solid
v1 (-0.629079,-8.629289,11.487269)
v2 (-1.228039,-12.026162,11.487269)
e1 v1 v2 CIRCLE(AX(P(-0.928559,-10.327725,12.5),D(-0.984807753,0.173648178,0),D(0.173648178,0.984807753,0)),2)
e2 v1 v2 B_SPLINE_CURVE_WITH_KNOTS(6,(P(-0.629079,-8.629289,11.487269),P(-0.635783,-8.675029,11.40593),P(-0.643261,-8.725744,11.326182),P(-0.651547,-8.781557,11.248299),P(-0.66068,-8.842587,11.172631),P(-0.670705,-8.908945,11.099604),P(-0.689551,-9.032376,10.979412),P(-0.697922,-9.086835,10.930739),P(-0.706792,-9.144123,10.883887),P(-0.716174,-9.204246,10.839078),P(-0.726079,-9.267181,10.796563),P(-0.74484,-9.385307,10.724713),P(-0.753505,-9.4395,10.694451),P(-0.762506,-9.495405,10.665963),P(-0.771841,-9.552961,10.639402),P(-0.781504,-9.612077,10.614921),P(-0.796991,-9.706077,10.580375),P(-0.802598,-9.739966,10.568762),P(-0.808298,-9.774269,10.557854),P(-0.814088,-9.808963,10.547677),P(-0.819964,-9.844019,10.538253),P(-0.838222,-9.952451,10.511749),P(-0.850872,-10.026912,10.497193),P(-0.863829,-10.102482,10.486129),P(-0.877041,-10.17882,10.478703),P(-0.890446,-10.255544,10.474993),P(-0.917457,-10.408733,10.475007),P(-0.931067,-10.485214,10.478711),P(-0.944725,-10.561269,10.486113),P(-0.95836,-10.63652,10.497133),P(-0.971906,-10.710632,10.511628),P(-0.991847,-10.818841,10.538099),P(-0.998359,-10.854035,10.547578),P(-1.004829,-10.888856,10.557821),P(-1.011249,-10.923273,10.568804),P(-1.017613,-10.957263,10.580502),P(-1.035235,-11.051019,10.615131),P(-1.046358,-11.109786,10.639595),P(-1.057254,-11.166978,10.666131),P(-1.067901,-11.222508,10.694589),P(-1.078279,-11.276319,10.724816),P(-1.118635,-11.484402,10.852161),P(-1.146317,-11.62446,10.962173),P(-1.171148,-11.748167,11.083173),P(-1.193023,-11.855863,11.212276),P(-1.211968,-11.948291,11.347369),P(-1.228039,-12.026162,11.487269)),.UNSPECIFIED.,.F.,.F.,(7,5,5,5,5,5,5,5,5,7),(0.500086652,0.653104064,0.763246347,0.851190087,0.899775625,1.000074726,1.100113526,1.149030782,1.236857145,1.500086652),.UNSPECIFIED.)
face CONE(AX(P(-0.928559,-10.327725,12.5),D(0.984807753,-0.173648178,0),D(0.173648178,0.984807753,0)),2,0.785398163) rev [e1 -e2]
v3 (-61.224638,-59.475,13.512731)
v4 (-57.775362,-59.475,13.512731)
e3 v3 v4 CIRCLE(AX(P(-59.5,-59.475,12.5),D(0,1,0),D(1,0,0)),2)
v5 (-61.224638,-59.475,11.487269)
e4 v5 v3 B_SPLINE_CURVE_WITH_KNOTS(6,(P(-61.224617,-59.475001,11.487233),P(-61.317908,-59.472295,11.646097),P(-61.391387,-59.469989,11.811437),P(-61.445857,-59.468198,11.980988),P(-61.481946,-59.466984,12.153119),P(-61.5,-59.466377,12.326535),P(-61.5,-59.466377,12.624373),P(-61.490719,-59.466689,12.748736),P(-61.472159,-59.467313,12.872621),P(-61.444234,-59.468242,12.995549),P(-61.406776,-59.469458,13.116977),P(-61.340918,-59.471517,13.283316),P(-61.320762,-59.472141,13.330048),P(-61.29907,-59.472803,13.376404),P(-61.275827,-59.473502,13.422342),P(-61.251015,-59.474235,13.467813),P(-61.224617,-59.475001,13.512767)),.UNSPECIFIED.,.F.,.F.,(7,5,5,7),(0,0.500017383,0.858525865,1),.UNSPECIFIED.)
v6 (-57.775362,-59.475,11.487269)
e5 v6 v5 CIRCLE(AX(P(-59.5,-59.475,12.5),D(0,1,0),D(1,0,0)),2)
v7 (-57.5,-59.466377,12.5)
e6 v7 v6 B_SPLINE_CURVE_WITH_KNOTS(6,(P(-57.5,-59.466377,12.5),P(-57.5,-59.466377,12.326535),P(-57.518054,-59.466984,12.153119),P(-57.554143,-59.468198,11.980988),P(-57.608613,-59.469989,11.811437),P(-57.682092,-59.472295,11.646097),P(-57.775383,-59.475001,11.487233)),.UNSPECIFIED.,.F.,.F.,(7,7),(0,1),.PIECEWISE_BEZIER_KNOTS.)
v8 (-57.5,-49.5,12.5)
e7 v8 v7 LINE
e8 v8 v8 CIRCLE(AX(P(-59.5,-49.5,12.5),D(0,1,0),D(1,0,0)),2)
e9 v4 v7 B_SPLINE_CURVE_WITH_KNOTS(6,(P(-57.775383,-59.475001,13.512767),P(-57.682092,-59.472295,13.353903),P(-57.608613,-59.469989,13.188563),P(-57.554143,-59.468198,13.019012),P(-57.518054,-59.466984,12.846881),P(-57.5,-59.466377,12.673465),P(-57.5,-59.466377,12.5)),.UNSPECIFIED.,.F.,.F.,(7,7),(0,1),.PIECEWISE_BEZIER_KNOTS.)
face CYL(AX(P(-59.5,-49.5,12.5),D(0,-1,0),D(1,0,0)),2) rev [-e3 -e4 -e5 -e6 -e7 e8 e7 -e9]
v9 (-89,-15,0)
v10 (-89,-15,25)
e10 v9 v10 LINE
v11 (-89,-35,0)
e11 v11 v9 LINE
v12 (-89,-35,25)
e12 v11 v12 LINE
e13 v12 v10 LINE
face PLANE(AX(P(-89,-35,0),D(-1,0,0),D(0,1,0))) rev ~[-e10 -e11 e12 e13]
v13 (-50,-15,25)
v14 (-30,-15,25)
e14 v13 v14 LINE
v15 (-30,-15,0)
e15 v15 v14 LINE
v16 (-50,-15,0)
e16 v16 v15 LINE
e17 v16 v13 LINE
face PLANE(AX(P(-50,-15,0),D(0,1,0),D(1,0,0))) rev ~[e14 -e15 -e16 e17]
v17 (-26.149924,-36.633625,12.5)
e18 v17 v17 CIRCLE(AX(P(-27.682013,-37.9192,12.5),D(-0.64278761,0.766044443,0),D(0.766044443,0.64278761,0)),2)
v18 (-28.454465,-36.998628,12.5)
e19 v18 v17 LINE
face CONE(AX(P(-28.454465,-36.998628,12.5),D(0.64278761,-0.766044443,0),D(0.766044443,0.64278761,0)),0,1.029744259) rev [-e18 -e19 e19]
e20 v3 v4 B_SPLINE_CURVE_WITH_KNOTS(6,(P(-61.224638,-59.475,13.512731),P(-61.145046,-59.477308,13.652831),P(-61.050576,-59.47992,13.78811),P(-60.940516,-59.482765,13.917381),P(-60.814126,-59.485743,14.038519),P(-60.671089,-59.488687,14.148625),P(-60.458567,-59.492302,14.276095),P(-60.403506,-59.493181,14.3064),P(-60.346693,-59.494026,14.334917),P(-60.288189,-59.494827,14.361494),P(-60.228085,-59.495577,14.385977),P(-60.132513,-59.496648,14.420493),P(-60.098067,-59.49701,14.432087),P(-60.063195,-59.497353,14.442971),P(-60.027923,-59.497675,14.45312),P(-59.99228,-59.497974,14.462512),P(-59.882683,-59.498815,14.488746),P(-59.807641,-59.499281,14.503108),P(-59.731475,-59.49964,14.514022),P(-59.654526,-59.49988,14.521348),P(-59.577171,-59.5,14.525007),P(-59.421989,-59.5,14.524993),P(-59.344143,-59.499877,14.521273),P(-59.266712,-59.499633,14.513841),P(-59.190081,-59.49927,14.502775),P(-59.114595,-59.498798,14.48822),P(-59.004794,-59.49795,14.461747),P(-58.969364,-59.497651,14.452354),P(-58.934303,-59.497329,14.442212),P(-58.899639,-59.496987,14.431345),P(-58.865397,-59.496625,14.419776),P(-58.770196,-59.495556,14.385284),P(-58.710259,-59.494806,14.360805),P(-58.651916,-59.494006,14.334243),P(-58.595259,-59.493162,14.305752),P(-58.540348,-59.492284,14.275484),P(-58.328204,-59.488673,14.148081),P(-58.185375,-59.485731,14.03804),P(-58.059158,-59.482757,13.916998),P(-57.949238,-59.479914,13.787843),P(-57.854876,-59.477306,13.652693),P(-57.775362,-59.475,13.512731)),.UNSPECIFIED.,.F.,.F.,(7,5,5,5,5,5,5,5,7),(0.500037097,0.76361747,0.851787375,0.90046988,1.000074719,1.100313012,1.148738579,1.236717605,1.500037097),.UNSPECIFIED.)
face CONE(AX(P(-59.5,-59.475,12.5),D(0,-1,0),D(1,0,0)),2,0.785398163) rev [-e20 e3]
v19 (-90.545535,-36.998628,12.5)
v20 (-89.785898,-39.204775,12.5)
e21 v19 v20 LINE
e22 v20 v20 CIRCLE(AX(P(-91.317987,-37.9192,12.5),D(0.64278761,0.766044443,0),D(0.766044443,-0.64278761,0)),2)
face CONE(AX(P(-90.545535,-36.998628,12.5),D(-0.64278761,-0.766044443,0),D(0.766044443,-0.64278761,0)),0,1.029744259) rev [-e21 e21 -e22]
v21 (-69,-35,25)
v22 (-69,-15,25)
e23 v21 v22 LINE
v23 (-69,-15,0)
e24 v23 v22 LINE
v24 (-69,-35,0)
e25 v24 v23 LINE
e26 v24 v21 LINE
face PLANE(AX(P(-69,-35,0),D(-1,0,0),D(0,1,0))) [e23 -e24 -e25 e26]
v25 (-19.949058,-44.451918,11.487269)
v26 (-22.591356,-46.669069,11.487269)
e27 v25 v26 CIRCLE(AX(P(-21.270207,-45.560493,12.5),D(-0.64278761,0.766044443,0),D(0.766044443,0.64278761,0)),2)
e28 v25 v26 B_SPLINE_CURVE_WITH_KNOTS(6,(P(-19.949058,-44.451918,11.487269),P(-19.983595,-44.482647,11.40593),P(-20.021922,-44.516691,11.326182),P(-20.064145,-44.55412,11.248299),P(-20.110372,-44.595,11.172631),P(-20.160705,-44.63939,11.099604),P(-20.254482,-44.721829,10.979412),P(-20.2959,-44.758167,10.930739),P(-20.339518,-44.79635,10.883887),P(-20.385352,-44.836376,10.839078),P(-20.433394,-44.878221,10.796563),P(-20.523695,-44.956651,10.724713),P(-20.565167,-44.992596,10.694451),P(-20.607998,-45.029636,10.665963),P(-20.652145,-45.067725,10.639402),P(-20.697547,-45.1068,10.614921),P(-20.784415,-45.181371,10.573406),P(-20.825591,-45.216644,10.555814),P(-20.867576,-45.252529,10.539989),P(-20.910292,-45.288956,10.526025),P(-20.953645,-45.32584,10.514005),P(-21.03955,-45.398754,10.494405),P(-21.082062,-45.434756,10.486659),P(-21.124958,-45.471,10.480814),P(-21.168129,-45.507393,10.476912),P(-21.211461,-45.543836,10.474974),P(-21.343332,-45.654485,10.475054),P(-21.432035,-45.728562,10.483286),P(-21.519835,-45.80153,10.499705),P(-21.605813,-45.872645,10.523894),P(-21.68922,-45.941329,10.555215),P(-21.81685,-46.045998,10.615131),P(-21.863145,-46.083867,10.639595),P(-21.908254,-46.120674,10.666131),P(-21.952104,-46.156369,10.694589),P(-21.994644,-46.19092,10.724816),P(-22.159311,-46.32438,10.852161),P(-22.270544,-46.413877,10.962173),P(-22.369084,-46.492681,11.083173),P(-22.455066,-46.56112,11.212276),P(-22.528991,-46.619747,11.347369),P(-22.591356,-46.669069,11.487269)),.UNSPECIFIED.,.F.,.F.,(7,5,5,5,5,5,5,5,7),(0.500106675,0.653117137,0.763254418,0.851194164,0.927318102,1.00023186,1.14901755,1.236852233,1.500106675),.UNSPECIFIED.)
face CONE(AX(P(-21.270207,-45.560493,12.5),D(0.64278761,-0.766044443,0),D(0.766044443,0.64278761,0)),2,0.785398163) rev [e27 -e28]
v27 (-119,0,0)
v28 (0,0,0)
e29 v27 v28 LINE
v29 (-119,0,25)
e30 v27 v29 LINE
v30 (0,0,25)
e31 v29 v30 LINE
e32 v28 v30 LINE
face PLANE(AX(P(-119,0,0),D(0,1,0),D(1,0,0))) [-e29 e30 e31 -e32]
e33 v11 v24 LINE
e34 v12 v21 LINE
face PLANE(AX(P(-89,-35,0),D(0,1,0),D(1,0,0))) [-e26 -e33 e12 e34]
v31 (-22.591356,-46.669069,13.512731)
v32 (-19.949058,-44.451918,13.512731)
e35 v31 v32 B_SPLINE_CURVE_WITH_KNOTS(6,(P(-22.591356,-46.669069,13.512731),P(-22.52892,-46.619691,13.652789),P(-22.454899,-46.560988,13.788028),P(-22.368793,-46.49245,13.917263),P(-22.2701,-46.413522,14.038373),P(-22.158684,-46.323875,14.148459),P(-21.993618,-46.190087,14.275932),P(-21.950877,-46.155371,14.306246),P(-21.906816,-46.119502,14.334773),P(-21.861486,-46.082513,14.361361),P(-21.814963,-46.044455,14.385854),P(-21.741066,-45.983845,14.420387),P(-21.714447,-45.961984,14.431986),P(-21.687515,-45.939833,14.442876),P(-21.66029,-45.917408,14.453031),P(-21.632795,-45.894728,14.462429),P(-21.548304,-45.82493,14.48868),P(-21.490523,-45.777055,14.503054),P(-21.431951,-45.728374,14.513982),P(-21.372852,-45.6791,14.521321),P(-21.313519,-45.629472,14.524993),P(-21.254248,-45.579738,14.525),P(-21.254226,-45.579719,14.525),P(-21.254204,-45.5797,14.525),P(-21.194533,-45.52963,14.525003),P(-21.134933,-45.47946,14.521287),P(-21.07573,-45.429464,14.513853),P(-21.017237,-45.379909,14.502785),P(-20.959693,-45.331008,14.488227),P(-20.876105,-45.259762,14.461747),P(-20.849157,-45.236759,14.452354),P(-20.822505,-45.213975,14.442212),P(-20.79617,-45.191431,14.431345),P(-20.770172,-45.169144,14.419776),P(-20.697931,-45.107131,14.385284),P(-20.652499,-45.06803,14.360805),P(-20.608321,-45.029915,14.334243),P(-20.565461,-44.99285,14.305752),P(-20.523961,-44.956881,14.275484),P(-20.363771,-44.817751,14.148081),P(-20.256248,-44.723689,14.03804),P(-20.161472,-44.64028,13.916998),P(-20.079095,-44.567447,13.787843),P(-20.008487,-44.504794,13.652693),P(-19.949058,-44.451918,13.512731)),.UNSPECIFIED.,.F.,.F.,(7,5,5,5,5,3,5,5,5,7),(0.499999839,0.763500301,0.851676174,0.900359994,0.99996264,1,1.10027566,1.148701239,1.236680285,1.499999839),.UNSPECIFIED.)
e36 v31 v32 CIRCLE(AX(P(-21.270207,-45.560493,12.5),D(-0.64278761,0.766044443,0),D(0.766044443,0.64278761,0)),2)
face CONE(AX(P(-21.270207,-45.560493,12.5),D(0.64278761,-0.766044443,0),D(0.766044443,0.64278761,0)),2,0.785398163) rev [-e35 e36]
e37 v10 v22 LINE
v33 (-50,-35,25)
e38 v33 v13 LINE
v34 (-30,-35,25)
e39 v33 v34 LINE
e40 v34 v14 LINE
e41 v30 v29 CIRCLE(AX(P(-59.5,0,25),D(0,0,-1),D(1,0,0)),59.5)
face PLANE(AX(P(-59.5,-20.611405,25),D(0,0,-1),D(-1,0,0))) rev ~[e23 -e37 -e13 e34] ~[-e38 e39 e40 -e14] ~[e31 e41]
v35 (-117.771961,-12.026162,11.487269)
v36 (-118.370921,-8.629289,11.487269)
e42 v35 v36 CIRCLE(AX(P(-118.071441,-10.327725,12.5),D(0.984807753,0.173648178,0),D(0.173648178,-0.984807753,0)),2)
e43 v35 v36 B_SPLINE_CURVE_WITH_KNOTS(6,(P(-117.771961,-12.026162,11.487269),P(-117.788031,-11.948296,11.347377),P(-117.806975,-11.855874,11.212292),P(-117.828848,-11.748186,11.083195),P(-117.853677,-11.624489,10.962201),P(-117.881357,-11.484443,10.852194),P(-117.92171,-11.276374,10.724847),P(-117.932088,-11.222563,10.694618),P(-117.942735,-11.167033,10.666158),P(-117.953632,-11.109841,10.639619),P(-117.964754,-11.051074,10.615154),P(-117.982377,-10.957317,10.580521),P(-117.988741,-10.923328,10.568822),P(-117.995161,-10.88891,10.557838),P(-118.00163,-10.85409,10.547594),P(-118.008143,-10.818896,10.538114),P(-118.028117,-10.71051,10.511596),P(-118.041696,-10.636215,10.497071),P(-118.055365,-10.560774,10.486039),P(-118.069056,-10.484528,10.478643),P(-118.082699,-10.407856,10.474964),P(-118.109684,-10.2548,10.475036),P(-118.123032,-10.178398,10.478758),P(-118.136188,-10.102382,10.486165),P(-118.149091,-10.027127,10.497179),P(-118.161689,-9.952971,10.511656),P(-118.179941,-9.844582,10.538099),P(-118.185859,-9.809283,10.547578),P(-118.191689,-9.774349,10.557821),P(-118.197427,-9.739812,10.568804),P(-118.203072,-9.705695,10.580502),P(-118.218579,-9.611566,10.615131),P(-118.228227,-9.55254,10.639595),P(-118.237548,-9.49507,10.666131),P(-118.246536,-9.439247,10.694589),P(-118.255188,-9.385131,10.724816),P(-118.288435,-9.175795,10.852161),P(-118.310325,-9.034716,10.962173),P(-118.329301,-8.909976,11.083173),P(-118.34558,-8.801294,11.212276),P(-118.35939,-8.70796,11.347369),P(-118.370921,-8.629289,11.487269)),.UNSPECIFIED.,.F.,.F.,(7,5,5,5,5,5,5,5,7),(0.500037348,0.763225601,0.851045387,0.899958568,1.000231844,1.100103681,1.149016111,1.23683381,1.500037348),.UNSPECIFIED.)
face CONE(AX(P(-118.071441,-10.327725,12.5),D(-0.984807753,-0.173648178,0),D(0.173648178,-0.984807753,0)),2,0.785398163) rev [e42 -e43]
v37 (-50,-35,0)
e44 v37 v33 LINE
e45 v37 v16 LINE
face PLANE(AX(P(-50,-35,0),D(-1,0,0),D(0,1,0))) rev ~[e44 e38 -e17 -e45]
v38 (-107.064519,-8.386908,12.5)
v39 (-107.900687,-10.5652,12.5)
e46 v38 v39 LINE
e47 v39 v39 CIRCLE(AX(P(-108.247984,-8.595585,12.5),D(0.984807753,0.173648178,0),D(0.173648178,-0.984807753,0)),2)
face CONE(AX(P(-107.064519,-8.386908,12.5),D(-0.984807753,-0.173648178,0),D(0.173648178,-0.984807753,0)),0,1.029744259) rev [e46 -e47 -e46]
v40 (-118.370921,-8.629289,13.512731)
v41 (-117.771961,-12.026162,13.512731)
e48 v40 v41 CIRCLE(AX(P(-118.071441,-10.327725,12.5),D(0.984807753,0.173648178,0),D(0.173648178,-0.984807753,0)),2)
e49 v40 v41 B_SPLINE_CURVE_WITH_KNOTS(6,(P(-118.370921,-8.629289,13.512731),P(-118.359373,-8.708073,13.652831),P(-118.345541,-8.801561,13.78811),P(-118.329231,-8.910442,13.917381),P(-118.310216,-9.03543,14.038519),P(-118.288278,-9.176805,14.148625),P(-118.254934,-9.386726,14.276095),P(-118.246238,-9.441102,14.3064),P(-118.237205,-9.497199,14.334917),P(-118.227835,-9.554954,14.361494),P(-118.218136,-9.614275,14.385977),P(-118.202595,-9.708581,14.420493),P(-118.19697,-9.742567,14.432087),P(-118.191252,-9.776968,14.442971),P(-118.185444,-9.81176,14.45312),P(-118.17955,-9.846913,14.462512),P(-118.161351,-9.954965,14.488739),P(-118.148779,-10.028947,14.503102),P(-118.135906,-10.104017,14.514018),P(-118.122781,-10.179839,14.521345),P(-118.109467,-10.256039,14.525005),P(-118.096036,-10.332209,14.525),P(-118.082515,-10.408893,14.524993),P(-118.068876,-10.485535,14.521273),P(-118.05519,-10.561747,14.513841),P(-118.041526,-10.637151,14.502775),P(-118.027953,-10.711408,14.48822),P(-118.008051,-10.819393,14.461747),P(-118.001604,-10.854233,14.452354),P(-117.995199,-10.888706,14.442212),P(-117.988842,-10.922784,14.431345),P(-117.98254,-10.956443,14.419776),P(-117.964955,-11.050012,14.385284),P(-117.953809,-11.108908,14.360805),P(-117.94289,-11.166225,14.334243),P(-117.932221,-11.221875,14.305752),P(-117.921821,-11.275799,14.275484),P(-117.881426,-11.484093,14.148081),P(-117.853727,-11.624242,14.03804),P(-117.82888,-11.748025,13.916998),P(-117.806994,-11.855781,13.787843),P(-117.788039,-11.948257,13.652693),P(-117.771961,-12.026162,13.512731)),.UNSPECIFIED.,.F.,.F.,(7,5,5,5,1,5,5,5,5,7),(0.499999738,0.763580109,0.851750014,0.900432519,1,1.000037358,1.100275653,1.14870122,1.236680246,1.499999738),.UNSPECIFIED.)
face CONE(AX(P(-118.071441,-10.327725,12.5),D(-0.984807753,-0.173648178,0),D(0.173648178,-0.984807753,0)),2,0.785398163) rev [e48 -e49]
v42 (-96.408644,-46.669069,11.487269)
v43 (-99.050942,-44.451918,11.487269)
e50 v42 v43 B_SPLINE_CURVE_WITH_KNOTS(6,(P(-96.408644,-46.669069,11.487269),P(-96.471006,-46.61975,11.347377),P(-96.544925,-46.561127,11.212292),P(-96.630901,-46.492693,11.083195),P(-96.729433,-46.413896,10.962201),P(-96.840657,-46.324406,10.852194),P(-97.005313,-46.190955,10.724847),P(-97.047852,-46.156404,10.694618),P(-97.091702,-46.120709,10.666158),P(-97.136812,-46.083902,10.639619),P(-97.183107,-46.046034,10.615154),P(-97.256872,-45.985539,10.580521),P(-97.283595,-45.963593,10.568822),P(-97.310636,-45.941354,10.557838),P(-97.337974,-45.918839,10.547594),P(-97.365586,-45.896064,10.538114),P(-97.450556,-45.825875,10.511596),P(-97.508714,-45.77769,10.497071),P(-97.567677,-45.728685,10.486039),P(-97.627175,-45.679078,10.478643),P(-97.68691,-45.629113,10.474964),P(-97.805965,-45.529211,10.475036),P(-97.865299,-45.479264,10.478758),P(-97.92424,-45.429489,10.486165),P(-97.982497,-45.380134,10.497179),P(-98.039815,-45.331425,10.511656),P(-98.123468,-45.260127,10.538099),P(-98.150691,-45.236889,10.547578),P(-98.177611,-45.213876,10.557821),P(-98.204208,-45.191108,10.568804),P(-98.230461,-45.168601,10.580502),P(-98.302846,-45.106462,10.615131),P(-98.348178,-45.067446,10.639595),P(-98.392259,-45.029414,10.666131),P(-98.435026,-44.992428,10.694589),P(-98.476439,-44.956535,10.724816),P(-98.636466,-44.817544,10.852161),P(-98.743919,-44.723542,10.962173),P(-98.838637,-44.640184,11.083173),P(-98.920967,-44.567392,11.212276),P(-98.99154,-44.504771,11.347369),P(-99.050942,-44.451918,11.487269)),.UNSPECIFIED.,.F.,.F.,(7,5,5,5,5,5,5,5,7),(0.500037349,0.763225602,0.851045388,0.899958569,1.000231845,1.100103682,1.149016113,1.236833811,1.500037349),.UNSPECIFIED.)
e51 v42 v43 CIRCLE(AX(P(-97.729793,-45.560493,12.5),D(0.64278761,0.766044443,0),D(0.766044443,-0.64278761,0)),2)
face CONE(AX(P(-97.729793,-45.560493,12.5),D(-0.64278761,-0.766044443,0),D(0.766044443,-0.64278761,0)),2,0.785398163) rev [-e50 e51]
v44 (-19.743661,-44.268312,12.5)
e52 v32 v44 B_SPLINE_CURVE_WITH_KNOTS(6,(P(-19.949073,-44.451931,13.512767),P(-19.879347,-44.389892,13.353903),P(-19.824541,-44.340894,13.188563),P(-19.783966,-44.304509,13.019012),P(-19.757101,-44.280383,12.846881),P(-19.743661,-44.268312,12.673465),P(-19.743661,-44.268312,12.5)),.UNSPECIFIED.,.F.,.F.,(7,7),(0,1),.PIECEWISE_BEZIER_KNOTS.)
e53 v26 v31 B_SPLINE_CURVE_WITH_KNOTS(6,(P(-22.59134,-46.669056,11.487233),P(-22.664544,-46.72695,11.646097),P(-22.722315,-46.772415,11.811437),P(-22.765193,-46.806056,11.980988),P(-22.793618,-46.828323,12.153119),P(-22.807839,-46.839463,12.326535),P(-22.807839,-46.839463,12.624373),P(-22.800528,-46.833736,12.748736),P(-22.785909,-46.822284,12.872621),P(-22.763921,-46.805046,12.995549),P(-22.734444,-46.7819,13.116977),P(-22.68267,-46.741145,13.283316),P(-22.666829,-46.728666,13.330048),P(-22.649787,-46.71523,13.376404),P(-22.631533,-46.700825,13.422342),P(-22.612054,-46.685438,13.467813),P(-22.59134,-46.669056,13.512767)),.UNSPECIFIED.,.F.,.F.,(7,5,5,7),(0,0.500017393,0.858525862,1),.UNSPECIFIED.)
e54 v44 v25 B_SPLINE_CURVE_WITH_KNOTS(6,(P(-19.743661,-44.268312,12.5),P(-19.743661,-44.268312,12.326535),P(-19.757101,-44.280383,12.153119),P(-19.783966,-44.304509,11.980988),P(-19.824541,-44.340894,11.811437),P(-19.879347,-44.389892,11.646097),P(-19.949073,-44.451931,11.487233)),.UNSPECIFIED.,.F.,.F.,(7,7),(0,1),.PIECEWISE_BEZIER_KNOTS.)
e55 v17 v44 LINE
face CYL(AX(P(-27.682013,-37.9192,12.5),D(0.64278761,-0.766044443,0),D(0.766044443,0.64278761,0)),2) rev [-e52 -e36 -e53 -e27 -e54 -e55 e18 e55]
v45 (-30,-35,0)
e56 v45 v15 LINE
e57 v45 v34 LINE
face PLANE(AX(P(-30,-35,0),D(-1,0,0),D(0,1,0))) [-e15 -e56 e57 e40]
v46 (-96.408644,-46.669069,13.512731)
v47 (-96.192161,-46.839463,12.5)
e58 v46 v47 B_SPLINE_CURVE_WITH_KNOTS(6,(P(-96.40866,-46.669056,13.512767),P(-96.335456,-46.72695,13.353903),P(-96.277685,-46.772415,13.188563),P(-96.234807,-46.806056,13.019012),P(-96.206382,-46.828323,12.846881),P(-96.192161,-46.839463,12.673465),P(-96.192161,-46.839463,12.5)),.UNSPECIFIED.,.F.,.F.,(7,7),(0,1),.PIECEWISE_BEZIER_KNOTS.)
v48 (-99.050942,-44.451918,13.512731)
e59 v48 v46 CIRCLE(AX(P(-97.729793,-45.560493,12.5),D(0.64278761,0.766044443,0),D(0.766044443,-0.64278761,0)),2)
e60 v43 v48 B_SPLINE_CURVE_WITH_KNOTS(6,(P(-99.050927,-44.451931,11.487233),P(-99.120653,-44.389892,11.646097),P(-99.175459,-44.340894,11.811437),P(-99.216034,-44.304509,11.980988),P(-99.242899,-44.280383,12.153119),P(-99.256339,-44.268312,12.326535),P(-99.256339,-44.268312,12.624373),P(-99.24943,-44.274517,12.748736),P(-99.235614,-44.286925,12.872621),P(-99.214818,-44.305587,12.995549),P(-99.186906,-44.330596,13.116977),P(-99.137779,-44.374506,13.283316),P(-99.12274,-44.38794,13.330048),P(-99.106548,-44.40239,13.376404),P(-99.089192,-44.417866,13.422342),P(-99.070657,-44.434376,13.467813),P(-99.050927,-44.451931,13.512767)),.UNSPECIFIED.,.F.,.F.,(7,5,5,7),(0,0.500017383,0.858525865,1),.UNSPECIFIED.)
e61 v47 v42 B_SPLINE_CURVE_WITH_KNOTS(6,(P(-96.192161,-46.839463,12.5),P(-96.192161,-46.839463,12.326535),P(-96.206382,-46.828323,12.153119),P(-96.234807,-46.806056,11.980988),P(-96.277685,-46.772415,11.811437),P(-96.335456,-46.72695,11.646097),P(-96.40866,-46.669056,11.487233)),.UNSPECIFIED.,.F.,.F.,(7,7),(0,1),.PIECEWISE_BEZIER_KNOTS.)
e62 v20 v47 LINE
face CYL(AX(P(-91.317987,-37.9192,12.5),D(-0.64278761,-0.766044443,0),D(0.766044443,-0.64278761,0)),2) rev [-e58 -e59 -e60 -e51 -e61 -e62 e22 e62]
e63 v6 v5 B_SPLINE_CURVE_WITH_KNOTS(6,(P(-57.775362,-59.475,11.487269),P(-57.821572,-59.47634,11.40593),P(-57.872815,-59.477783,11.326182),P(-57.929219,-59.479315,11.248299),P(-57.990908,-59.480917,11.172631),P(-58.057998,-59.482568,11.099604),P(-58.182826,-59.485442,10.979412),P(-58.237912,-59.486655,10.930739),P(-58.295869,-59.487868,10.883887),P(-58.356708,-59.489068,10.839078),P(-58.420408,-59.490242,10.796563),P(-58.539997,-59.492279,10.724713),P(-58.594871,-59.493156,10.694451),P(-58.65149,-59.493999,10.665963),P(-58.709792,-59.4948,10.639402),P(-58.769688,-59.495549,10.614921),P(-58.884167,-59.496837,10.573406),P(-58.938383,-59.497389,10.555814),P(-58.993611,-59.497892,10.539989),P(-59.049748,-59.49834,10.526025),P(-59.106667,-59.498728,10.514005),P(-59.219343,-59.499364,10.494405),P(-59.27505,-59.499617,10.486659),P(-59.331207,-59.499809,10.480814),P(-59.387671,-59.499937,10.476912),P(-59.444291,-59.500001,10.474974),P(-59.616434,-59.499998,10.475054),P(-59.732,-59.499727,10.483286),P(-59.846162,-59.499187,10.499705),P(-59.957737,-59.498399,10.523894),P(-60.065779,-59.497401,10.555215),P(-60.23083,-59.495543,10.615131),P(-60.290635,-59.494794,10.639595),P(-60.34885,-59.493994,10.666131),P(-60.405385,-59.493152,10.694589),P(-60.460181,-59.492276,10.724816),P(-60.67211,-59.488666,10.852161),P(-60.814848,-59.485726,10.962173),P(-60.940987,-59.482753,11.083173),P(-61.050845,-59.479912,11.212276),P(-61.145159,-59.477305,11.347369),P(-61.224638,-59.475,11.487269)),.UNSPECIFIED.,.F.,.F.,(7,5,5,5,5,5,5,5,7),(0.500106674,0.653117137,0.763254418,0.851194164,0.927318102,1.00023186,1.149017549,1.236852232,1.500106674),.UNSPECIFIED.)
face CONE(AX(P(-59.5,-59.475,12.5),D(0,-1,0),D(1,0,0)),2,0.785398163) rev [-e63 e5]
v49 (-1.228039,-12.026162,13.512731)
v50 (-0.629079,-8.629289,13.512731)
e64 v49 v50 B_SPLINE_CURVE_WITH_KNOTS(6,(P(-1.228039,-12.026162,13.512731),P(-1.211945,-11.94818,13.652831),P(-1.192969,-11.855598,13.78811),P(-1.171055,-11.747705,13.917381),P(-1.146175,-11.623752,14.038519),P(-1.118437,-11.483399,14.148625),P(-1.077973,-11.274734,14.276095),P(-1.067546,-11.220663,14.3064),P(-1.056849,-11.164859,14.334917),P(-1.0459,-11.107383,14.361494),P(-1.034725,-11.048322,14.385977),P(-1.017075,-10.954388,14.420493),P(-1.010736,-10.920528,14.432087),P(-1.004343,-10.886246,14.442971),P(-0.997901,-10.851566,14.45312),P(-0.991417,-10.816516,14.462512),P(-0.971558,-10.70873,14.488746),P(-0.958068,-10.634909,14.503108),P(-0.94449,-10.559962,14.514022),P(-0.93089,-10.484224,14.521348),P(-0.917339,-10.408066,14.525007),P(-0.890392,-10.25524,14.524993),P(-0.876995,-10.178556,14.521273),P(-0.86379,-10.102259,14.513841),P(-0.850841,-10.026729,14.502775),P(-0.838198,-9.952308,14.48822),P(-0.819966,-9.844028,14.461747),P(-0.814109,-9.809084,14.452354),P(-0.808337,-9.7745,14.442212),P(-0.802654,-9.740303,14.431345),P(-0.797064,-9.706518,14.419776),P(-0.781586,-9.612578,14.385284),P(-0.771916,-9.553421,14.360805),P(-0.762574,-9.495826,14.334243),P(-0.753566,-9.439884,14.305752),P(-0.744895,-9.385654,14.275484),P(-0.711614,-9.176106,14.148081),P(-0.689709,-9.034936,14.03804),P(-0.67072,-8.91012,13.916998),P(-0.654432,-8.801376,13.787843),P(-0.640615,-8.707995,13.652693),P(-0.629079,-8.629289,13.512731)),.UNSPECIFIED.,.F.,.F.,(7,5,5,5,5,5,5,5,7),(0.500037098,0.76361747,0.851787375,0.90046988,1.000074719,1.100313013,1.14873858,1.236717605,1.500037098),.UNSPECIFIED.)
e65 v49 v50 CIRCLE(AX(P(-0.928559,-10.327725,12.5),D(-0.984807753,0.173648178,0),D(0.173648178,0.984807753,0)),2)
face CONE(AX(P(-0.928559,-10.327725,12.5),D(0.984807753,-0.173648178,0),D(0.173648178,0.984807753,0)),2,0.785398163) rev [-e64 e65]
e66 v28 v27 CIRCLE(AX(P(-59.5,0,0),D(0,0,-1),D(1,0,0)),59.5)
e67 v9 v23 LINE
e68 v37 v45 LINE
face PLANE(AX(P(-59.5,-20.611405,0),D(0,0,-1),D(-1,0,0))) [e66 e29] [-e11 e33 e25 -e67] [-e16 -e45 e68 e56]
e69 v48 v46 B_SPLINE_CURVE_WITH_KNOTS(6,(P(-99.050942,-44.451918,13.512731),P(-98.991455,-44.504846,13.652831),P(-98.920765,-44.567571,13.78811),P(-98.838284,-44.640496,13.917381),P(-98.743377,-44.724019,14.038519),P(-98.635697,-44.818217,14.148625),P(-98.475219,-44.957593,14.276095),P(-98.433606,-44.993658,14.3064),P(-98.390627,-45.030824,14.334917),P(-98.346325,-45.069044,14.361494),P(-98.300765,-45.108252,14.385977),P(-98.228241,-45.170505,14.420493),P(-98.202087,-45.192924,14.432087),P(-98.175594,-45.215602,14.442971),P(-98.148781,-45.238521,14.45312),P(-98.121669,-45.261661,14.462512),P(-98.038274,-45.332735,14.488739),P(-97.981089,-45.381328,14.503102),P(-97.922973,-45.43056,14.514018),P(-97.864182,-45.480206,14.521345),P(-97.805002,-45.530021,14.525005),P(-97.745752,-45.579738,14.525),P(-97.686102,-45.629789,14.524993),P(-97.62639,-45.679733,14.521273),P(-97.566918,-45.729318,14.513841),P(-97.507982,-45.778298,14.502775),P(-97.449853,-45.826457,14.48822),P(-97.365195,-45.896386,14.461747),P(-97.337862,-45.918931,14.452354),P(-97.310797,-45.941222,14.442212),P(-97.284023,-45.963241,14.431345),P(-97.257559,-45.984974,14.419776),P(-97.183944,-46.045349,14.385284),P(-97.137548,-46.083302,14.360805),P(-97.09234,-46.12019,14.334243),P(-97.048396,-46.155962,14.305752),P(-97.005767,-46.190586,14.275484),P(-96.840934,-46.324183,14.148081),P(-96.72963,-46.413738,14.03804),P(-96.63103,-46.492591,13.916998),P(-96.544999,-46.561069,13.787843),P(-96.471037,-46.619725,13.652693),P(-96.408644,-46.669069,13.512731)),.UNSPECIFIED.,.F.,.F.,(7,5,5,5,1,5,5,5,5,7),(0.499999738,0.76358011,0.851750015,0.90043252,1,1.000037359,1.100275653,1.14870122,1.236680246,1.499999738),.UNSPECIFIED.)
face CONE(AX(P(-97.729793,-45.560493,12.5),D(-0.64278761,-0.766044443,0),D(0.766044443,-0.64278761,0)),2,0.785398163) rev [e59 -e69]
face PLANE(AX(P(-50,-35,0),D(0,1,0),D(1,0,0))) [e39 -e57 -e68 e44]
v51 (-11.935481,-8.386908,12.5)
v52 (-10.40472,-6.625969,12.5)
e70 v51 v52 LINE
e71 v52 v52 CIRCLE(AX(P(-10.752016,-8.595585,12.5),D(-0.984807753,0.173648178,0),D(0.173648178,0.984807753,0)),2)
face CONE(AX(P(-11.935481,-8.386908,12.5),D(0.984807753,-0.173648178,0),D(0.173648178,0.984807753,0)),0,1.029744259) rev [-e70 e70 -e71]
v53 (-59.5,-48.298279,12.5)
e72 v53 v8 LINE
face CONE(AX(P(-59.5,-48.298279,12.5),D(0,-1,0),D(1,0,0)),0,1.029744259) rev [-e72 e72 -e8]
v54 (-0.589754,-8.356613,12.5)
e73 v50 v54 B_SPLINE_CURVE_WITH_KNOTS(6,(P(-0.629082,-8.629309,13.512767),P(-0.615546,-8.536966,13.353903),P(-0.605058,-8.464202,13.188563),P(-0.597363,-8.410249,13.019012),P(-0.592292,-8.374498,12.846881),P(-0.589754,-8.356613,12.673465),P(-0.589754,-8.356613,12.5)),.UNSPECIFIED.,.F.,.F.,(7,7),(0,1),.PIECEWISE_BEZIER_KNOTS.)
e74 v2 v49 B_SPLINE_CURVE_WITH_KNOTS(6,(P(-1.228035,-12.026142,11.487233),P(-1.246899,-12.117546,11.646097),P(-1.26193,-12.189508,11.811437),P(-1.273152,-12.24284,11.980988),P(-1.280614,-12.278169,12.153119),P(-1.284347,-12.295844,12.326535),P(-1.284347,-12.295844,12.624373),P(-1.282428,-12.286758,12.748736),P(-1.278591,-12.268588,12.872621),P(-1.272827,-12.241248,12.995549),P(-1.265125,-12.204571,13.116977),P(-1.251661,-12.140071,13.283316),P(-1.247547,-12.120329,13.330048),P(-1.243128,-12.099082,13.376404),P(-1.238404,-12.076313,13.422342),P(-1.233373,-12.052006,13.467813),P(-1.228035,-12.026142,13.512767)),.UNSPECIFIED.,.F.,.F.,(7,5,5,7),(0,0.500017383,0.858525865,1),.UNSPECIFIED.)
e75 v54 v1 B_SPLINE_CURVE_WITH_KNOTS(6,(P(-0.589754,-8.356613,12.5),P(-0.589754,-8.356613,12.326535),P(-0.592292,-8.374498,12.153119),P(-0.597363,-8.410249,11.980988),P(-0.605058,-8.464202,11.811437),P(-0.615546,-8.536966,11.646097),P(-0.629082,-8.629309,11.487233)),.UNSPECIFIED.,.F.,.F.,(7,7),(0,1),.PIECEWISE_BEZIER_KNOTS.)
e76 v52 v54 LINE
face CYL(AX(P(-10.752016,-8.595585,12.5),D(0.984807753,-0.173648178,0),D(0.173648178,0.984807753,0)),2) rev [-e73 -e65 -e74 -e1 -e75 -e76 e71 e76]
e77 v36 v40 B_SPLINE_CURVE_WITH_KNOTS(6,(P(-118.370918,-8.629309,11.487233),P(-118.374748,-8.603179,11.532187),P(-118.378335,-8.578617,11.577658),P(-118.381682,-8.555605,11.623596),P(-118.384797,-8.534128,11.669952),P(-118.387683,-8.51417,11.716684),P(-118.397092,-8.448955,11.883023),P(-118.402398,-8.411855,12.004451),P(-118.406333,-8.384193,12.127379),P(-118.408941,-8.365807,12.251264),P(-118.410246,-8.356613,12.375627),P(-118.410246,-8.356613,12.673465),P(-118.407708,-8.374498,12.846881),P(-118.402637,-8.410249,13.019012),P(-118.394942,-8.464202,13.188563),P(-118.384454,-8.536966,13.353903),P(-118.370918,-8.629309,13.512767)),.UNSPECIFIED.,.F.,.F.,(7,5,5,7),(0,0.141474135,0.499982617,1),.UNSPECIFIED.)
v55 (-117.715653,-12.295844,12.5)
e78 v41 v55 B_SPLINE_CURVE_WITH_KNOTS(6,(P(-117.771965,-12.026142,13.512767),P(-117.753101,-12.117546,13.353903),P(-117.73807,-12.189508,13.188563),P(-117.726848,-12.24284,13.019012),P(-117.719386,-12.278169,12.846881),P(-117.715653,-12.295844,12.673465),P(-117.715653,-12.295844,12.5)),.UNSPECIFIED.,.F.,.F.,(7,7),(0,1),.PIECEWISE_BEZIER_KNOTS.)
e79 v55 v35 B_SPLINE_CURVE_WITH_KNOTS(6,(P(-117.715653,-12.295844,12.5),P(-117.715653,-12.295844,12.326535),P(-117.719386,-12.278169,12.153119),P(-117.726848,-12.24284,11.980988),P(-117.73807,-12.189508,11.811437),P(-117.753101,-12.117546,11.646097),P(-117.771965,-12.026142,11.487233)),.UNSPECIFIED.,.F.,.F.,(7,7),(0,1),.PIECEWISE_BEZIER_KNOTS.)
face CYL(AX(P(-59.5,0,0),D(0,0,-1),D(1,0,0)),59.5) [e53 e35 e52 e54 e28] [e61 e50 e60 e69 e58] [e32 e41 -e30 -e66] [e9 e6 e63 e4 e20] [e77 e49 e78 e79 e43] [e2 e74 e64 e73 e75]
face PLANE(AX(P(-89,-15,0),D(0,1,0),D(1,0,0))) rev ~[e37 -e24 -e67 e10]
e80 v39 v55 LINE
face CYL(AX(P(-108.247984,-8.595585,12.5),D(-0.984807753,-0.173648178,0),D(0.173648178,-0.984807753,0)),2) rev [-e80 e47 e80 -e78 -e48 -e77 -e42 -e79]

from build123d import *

# Parameters (mm, degrees)
SKETCH1_W           = 20
SKETCH1_H           = 20
BOSS_EXTRUDE1_DEPTH = 25
CIRPATTERN1_COUNT   = 5
CIRPATTERN1_ANGLE   = 160


with BuildPart() as part:
    # Sketch1 → Boss-Extrude1 (new body)
    with BuildSketch(Plane.XY):
        with BuildLine():
            Line((-119, 0), (0, 0))
            ThreePointArc((0, 0), (-59.5, -59.5), (-119, 0))
        make_face()
        with Locations((-40, -25)):
            Rectangle(SKETCH1_W, SKETCH1_H, mode=Mode.SUBTRACT)
        with Locations((-79, -25)):
            Rectangle(SKETCH1_W, SKETCH1_H, mode=Mode.SUBTRACT)
    extrude(amount=BOSS_EXTRUDE1_DEPTH)

    # Sketch4 → Ø4.0mm Dowel Hole2 (revolve, cut)
    with BuildSketch(Plane(origin=(-0.903938696, -10.332066571, 12.5), x_dir=(0.1736481776669305, 0.9848077530122081, 0), z_dir=(0, 0, 1))):
        Polygon((0, 0), (0, 11.201721238), (2, 10), (2, 0.025), (2.025, 0), align=None)
    f_4_0mm_dowel_hole2 = revolve(axis=Axis((5.349590536, -11.434732499, 12.5), (-0.9848077530122081, 0.1736481776669305, 0)), mode=Mode.SUBTRACT)

    # CirPattern1: Ø4.0mm Dowel Hole2 ×5 about axis
    cirpattern1_axis = Axis((-59.5, 0, 0), (0, 0, -1))
    for i in range(1, CIRPATTERN1_COUNT):
        add(f_4_0mm_dowel_hole2.rotate(cirpattern1_axis, i * CIRPATTERN1_ANGLE / (CIRPATTERN1_COUNT - 1)), mode=Mode.SUBTRACT)


solid = part.part
